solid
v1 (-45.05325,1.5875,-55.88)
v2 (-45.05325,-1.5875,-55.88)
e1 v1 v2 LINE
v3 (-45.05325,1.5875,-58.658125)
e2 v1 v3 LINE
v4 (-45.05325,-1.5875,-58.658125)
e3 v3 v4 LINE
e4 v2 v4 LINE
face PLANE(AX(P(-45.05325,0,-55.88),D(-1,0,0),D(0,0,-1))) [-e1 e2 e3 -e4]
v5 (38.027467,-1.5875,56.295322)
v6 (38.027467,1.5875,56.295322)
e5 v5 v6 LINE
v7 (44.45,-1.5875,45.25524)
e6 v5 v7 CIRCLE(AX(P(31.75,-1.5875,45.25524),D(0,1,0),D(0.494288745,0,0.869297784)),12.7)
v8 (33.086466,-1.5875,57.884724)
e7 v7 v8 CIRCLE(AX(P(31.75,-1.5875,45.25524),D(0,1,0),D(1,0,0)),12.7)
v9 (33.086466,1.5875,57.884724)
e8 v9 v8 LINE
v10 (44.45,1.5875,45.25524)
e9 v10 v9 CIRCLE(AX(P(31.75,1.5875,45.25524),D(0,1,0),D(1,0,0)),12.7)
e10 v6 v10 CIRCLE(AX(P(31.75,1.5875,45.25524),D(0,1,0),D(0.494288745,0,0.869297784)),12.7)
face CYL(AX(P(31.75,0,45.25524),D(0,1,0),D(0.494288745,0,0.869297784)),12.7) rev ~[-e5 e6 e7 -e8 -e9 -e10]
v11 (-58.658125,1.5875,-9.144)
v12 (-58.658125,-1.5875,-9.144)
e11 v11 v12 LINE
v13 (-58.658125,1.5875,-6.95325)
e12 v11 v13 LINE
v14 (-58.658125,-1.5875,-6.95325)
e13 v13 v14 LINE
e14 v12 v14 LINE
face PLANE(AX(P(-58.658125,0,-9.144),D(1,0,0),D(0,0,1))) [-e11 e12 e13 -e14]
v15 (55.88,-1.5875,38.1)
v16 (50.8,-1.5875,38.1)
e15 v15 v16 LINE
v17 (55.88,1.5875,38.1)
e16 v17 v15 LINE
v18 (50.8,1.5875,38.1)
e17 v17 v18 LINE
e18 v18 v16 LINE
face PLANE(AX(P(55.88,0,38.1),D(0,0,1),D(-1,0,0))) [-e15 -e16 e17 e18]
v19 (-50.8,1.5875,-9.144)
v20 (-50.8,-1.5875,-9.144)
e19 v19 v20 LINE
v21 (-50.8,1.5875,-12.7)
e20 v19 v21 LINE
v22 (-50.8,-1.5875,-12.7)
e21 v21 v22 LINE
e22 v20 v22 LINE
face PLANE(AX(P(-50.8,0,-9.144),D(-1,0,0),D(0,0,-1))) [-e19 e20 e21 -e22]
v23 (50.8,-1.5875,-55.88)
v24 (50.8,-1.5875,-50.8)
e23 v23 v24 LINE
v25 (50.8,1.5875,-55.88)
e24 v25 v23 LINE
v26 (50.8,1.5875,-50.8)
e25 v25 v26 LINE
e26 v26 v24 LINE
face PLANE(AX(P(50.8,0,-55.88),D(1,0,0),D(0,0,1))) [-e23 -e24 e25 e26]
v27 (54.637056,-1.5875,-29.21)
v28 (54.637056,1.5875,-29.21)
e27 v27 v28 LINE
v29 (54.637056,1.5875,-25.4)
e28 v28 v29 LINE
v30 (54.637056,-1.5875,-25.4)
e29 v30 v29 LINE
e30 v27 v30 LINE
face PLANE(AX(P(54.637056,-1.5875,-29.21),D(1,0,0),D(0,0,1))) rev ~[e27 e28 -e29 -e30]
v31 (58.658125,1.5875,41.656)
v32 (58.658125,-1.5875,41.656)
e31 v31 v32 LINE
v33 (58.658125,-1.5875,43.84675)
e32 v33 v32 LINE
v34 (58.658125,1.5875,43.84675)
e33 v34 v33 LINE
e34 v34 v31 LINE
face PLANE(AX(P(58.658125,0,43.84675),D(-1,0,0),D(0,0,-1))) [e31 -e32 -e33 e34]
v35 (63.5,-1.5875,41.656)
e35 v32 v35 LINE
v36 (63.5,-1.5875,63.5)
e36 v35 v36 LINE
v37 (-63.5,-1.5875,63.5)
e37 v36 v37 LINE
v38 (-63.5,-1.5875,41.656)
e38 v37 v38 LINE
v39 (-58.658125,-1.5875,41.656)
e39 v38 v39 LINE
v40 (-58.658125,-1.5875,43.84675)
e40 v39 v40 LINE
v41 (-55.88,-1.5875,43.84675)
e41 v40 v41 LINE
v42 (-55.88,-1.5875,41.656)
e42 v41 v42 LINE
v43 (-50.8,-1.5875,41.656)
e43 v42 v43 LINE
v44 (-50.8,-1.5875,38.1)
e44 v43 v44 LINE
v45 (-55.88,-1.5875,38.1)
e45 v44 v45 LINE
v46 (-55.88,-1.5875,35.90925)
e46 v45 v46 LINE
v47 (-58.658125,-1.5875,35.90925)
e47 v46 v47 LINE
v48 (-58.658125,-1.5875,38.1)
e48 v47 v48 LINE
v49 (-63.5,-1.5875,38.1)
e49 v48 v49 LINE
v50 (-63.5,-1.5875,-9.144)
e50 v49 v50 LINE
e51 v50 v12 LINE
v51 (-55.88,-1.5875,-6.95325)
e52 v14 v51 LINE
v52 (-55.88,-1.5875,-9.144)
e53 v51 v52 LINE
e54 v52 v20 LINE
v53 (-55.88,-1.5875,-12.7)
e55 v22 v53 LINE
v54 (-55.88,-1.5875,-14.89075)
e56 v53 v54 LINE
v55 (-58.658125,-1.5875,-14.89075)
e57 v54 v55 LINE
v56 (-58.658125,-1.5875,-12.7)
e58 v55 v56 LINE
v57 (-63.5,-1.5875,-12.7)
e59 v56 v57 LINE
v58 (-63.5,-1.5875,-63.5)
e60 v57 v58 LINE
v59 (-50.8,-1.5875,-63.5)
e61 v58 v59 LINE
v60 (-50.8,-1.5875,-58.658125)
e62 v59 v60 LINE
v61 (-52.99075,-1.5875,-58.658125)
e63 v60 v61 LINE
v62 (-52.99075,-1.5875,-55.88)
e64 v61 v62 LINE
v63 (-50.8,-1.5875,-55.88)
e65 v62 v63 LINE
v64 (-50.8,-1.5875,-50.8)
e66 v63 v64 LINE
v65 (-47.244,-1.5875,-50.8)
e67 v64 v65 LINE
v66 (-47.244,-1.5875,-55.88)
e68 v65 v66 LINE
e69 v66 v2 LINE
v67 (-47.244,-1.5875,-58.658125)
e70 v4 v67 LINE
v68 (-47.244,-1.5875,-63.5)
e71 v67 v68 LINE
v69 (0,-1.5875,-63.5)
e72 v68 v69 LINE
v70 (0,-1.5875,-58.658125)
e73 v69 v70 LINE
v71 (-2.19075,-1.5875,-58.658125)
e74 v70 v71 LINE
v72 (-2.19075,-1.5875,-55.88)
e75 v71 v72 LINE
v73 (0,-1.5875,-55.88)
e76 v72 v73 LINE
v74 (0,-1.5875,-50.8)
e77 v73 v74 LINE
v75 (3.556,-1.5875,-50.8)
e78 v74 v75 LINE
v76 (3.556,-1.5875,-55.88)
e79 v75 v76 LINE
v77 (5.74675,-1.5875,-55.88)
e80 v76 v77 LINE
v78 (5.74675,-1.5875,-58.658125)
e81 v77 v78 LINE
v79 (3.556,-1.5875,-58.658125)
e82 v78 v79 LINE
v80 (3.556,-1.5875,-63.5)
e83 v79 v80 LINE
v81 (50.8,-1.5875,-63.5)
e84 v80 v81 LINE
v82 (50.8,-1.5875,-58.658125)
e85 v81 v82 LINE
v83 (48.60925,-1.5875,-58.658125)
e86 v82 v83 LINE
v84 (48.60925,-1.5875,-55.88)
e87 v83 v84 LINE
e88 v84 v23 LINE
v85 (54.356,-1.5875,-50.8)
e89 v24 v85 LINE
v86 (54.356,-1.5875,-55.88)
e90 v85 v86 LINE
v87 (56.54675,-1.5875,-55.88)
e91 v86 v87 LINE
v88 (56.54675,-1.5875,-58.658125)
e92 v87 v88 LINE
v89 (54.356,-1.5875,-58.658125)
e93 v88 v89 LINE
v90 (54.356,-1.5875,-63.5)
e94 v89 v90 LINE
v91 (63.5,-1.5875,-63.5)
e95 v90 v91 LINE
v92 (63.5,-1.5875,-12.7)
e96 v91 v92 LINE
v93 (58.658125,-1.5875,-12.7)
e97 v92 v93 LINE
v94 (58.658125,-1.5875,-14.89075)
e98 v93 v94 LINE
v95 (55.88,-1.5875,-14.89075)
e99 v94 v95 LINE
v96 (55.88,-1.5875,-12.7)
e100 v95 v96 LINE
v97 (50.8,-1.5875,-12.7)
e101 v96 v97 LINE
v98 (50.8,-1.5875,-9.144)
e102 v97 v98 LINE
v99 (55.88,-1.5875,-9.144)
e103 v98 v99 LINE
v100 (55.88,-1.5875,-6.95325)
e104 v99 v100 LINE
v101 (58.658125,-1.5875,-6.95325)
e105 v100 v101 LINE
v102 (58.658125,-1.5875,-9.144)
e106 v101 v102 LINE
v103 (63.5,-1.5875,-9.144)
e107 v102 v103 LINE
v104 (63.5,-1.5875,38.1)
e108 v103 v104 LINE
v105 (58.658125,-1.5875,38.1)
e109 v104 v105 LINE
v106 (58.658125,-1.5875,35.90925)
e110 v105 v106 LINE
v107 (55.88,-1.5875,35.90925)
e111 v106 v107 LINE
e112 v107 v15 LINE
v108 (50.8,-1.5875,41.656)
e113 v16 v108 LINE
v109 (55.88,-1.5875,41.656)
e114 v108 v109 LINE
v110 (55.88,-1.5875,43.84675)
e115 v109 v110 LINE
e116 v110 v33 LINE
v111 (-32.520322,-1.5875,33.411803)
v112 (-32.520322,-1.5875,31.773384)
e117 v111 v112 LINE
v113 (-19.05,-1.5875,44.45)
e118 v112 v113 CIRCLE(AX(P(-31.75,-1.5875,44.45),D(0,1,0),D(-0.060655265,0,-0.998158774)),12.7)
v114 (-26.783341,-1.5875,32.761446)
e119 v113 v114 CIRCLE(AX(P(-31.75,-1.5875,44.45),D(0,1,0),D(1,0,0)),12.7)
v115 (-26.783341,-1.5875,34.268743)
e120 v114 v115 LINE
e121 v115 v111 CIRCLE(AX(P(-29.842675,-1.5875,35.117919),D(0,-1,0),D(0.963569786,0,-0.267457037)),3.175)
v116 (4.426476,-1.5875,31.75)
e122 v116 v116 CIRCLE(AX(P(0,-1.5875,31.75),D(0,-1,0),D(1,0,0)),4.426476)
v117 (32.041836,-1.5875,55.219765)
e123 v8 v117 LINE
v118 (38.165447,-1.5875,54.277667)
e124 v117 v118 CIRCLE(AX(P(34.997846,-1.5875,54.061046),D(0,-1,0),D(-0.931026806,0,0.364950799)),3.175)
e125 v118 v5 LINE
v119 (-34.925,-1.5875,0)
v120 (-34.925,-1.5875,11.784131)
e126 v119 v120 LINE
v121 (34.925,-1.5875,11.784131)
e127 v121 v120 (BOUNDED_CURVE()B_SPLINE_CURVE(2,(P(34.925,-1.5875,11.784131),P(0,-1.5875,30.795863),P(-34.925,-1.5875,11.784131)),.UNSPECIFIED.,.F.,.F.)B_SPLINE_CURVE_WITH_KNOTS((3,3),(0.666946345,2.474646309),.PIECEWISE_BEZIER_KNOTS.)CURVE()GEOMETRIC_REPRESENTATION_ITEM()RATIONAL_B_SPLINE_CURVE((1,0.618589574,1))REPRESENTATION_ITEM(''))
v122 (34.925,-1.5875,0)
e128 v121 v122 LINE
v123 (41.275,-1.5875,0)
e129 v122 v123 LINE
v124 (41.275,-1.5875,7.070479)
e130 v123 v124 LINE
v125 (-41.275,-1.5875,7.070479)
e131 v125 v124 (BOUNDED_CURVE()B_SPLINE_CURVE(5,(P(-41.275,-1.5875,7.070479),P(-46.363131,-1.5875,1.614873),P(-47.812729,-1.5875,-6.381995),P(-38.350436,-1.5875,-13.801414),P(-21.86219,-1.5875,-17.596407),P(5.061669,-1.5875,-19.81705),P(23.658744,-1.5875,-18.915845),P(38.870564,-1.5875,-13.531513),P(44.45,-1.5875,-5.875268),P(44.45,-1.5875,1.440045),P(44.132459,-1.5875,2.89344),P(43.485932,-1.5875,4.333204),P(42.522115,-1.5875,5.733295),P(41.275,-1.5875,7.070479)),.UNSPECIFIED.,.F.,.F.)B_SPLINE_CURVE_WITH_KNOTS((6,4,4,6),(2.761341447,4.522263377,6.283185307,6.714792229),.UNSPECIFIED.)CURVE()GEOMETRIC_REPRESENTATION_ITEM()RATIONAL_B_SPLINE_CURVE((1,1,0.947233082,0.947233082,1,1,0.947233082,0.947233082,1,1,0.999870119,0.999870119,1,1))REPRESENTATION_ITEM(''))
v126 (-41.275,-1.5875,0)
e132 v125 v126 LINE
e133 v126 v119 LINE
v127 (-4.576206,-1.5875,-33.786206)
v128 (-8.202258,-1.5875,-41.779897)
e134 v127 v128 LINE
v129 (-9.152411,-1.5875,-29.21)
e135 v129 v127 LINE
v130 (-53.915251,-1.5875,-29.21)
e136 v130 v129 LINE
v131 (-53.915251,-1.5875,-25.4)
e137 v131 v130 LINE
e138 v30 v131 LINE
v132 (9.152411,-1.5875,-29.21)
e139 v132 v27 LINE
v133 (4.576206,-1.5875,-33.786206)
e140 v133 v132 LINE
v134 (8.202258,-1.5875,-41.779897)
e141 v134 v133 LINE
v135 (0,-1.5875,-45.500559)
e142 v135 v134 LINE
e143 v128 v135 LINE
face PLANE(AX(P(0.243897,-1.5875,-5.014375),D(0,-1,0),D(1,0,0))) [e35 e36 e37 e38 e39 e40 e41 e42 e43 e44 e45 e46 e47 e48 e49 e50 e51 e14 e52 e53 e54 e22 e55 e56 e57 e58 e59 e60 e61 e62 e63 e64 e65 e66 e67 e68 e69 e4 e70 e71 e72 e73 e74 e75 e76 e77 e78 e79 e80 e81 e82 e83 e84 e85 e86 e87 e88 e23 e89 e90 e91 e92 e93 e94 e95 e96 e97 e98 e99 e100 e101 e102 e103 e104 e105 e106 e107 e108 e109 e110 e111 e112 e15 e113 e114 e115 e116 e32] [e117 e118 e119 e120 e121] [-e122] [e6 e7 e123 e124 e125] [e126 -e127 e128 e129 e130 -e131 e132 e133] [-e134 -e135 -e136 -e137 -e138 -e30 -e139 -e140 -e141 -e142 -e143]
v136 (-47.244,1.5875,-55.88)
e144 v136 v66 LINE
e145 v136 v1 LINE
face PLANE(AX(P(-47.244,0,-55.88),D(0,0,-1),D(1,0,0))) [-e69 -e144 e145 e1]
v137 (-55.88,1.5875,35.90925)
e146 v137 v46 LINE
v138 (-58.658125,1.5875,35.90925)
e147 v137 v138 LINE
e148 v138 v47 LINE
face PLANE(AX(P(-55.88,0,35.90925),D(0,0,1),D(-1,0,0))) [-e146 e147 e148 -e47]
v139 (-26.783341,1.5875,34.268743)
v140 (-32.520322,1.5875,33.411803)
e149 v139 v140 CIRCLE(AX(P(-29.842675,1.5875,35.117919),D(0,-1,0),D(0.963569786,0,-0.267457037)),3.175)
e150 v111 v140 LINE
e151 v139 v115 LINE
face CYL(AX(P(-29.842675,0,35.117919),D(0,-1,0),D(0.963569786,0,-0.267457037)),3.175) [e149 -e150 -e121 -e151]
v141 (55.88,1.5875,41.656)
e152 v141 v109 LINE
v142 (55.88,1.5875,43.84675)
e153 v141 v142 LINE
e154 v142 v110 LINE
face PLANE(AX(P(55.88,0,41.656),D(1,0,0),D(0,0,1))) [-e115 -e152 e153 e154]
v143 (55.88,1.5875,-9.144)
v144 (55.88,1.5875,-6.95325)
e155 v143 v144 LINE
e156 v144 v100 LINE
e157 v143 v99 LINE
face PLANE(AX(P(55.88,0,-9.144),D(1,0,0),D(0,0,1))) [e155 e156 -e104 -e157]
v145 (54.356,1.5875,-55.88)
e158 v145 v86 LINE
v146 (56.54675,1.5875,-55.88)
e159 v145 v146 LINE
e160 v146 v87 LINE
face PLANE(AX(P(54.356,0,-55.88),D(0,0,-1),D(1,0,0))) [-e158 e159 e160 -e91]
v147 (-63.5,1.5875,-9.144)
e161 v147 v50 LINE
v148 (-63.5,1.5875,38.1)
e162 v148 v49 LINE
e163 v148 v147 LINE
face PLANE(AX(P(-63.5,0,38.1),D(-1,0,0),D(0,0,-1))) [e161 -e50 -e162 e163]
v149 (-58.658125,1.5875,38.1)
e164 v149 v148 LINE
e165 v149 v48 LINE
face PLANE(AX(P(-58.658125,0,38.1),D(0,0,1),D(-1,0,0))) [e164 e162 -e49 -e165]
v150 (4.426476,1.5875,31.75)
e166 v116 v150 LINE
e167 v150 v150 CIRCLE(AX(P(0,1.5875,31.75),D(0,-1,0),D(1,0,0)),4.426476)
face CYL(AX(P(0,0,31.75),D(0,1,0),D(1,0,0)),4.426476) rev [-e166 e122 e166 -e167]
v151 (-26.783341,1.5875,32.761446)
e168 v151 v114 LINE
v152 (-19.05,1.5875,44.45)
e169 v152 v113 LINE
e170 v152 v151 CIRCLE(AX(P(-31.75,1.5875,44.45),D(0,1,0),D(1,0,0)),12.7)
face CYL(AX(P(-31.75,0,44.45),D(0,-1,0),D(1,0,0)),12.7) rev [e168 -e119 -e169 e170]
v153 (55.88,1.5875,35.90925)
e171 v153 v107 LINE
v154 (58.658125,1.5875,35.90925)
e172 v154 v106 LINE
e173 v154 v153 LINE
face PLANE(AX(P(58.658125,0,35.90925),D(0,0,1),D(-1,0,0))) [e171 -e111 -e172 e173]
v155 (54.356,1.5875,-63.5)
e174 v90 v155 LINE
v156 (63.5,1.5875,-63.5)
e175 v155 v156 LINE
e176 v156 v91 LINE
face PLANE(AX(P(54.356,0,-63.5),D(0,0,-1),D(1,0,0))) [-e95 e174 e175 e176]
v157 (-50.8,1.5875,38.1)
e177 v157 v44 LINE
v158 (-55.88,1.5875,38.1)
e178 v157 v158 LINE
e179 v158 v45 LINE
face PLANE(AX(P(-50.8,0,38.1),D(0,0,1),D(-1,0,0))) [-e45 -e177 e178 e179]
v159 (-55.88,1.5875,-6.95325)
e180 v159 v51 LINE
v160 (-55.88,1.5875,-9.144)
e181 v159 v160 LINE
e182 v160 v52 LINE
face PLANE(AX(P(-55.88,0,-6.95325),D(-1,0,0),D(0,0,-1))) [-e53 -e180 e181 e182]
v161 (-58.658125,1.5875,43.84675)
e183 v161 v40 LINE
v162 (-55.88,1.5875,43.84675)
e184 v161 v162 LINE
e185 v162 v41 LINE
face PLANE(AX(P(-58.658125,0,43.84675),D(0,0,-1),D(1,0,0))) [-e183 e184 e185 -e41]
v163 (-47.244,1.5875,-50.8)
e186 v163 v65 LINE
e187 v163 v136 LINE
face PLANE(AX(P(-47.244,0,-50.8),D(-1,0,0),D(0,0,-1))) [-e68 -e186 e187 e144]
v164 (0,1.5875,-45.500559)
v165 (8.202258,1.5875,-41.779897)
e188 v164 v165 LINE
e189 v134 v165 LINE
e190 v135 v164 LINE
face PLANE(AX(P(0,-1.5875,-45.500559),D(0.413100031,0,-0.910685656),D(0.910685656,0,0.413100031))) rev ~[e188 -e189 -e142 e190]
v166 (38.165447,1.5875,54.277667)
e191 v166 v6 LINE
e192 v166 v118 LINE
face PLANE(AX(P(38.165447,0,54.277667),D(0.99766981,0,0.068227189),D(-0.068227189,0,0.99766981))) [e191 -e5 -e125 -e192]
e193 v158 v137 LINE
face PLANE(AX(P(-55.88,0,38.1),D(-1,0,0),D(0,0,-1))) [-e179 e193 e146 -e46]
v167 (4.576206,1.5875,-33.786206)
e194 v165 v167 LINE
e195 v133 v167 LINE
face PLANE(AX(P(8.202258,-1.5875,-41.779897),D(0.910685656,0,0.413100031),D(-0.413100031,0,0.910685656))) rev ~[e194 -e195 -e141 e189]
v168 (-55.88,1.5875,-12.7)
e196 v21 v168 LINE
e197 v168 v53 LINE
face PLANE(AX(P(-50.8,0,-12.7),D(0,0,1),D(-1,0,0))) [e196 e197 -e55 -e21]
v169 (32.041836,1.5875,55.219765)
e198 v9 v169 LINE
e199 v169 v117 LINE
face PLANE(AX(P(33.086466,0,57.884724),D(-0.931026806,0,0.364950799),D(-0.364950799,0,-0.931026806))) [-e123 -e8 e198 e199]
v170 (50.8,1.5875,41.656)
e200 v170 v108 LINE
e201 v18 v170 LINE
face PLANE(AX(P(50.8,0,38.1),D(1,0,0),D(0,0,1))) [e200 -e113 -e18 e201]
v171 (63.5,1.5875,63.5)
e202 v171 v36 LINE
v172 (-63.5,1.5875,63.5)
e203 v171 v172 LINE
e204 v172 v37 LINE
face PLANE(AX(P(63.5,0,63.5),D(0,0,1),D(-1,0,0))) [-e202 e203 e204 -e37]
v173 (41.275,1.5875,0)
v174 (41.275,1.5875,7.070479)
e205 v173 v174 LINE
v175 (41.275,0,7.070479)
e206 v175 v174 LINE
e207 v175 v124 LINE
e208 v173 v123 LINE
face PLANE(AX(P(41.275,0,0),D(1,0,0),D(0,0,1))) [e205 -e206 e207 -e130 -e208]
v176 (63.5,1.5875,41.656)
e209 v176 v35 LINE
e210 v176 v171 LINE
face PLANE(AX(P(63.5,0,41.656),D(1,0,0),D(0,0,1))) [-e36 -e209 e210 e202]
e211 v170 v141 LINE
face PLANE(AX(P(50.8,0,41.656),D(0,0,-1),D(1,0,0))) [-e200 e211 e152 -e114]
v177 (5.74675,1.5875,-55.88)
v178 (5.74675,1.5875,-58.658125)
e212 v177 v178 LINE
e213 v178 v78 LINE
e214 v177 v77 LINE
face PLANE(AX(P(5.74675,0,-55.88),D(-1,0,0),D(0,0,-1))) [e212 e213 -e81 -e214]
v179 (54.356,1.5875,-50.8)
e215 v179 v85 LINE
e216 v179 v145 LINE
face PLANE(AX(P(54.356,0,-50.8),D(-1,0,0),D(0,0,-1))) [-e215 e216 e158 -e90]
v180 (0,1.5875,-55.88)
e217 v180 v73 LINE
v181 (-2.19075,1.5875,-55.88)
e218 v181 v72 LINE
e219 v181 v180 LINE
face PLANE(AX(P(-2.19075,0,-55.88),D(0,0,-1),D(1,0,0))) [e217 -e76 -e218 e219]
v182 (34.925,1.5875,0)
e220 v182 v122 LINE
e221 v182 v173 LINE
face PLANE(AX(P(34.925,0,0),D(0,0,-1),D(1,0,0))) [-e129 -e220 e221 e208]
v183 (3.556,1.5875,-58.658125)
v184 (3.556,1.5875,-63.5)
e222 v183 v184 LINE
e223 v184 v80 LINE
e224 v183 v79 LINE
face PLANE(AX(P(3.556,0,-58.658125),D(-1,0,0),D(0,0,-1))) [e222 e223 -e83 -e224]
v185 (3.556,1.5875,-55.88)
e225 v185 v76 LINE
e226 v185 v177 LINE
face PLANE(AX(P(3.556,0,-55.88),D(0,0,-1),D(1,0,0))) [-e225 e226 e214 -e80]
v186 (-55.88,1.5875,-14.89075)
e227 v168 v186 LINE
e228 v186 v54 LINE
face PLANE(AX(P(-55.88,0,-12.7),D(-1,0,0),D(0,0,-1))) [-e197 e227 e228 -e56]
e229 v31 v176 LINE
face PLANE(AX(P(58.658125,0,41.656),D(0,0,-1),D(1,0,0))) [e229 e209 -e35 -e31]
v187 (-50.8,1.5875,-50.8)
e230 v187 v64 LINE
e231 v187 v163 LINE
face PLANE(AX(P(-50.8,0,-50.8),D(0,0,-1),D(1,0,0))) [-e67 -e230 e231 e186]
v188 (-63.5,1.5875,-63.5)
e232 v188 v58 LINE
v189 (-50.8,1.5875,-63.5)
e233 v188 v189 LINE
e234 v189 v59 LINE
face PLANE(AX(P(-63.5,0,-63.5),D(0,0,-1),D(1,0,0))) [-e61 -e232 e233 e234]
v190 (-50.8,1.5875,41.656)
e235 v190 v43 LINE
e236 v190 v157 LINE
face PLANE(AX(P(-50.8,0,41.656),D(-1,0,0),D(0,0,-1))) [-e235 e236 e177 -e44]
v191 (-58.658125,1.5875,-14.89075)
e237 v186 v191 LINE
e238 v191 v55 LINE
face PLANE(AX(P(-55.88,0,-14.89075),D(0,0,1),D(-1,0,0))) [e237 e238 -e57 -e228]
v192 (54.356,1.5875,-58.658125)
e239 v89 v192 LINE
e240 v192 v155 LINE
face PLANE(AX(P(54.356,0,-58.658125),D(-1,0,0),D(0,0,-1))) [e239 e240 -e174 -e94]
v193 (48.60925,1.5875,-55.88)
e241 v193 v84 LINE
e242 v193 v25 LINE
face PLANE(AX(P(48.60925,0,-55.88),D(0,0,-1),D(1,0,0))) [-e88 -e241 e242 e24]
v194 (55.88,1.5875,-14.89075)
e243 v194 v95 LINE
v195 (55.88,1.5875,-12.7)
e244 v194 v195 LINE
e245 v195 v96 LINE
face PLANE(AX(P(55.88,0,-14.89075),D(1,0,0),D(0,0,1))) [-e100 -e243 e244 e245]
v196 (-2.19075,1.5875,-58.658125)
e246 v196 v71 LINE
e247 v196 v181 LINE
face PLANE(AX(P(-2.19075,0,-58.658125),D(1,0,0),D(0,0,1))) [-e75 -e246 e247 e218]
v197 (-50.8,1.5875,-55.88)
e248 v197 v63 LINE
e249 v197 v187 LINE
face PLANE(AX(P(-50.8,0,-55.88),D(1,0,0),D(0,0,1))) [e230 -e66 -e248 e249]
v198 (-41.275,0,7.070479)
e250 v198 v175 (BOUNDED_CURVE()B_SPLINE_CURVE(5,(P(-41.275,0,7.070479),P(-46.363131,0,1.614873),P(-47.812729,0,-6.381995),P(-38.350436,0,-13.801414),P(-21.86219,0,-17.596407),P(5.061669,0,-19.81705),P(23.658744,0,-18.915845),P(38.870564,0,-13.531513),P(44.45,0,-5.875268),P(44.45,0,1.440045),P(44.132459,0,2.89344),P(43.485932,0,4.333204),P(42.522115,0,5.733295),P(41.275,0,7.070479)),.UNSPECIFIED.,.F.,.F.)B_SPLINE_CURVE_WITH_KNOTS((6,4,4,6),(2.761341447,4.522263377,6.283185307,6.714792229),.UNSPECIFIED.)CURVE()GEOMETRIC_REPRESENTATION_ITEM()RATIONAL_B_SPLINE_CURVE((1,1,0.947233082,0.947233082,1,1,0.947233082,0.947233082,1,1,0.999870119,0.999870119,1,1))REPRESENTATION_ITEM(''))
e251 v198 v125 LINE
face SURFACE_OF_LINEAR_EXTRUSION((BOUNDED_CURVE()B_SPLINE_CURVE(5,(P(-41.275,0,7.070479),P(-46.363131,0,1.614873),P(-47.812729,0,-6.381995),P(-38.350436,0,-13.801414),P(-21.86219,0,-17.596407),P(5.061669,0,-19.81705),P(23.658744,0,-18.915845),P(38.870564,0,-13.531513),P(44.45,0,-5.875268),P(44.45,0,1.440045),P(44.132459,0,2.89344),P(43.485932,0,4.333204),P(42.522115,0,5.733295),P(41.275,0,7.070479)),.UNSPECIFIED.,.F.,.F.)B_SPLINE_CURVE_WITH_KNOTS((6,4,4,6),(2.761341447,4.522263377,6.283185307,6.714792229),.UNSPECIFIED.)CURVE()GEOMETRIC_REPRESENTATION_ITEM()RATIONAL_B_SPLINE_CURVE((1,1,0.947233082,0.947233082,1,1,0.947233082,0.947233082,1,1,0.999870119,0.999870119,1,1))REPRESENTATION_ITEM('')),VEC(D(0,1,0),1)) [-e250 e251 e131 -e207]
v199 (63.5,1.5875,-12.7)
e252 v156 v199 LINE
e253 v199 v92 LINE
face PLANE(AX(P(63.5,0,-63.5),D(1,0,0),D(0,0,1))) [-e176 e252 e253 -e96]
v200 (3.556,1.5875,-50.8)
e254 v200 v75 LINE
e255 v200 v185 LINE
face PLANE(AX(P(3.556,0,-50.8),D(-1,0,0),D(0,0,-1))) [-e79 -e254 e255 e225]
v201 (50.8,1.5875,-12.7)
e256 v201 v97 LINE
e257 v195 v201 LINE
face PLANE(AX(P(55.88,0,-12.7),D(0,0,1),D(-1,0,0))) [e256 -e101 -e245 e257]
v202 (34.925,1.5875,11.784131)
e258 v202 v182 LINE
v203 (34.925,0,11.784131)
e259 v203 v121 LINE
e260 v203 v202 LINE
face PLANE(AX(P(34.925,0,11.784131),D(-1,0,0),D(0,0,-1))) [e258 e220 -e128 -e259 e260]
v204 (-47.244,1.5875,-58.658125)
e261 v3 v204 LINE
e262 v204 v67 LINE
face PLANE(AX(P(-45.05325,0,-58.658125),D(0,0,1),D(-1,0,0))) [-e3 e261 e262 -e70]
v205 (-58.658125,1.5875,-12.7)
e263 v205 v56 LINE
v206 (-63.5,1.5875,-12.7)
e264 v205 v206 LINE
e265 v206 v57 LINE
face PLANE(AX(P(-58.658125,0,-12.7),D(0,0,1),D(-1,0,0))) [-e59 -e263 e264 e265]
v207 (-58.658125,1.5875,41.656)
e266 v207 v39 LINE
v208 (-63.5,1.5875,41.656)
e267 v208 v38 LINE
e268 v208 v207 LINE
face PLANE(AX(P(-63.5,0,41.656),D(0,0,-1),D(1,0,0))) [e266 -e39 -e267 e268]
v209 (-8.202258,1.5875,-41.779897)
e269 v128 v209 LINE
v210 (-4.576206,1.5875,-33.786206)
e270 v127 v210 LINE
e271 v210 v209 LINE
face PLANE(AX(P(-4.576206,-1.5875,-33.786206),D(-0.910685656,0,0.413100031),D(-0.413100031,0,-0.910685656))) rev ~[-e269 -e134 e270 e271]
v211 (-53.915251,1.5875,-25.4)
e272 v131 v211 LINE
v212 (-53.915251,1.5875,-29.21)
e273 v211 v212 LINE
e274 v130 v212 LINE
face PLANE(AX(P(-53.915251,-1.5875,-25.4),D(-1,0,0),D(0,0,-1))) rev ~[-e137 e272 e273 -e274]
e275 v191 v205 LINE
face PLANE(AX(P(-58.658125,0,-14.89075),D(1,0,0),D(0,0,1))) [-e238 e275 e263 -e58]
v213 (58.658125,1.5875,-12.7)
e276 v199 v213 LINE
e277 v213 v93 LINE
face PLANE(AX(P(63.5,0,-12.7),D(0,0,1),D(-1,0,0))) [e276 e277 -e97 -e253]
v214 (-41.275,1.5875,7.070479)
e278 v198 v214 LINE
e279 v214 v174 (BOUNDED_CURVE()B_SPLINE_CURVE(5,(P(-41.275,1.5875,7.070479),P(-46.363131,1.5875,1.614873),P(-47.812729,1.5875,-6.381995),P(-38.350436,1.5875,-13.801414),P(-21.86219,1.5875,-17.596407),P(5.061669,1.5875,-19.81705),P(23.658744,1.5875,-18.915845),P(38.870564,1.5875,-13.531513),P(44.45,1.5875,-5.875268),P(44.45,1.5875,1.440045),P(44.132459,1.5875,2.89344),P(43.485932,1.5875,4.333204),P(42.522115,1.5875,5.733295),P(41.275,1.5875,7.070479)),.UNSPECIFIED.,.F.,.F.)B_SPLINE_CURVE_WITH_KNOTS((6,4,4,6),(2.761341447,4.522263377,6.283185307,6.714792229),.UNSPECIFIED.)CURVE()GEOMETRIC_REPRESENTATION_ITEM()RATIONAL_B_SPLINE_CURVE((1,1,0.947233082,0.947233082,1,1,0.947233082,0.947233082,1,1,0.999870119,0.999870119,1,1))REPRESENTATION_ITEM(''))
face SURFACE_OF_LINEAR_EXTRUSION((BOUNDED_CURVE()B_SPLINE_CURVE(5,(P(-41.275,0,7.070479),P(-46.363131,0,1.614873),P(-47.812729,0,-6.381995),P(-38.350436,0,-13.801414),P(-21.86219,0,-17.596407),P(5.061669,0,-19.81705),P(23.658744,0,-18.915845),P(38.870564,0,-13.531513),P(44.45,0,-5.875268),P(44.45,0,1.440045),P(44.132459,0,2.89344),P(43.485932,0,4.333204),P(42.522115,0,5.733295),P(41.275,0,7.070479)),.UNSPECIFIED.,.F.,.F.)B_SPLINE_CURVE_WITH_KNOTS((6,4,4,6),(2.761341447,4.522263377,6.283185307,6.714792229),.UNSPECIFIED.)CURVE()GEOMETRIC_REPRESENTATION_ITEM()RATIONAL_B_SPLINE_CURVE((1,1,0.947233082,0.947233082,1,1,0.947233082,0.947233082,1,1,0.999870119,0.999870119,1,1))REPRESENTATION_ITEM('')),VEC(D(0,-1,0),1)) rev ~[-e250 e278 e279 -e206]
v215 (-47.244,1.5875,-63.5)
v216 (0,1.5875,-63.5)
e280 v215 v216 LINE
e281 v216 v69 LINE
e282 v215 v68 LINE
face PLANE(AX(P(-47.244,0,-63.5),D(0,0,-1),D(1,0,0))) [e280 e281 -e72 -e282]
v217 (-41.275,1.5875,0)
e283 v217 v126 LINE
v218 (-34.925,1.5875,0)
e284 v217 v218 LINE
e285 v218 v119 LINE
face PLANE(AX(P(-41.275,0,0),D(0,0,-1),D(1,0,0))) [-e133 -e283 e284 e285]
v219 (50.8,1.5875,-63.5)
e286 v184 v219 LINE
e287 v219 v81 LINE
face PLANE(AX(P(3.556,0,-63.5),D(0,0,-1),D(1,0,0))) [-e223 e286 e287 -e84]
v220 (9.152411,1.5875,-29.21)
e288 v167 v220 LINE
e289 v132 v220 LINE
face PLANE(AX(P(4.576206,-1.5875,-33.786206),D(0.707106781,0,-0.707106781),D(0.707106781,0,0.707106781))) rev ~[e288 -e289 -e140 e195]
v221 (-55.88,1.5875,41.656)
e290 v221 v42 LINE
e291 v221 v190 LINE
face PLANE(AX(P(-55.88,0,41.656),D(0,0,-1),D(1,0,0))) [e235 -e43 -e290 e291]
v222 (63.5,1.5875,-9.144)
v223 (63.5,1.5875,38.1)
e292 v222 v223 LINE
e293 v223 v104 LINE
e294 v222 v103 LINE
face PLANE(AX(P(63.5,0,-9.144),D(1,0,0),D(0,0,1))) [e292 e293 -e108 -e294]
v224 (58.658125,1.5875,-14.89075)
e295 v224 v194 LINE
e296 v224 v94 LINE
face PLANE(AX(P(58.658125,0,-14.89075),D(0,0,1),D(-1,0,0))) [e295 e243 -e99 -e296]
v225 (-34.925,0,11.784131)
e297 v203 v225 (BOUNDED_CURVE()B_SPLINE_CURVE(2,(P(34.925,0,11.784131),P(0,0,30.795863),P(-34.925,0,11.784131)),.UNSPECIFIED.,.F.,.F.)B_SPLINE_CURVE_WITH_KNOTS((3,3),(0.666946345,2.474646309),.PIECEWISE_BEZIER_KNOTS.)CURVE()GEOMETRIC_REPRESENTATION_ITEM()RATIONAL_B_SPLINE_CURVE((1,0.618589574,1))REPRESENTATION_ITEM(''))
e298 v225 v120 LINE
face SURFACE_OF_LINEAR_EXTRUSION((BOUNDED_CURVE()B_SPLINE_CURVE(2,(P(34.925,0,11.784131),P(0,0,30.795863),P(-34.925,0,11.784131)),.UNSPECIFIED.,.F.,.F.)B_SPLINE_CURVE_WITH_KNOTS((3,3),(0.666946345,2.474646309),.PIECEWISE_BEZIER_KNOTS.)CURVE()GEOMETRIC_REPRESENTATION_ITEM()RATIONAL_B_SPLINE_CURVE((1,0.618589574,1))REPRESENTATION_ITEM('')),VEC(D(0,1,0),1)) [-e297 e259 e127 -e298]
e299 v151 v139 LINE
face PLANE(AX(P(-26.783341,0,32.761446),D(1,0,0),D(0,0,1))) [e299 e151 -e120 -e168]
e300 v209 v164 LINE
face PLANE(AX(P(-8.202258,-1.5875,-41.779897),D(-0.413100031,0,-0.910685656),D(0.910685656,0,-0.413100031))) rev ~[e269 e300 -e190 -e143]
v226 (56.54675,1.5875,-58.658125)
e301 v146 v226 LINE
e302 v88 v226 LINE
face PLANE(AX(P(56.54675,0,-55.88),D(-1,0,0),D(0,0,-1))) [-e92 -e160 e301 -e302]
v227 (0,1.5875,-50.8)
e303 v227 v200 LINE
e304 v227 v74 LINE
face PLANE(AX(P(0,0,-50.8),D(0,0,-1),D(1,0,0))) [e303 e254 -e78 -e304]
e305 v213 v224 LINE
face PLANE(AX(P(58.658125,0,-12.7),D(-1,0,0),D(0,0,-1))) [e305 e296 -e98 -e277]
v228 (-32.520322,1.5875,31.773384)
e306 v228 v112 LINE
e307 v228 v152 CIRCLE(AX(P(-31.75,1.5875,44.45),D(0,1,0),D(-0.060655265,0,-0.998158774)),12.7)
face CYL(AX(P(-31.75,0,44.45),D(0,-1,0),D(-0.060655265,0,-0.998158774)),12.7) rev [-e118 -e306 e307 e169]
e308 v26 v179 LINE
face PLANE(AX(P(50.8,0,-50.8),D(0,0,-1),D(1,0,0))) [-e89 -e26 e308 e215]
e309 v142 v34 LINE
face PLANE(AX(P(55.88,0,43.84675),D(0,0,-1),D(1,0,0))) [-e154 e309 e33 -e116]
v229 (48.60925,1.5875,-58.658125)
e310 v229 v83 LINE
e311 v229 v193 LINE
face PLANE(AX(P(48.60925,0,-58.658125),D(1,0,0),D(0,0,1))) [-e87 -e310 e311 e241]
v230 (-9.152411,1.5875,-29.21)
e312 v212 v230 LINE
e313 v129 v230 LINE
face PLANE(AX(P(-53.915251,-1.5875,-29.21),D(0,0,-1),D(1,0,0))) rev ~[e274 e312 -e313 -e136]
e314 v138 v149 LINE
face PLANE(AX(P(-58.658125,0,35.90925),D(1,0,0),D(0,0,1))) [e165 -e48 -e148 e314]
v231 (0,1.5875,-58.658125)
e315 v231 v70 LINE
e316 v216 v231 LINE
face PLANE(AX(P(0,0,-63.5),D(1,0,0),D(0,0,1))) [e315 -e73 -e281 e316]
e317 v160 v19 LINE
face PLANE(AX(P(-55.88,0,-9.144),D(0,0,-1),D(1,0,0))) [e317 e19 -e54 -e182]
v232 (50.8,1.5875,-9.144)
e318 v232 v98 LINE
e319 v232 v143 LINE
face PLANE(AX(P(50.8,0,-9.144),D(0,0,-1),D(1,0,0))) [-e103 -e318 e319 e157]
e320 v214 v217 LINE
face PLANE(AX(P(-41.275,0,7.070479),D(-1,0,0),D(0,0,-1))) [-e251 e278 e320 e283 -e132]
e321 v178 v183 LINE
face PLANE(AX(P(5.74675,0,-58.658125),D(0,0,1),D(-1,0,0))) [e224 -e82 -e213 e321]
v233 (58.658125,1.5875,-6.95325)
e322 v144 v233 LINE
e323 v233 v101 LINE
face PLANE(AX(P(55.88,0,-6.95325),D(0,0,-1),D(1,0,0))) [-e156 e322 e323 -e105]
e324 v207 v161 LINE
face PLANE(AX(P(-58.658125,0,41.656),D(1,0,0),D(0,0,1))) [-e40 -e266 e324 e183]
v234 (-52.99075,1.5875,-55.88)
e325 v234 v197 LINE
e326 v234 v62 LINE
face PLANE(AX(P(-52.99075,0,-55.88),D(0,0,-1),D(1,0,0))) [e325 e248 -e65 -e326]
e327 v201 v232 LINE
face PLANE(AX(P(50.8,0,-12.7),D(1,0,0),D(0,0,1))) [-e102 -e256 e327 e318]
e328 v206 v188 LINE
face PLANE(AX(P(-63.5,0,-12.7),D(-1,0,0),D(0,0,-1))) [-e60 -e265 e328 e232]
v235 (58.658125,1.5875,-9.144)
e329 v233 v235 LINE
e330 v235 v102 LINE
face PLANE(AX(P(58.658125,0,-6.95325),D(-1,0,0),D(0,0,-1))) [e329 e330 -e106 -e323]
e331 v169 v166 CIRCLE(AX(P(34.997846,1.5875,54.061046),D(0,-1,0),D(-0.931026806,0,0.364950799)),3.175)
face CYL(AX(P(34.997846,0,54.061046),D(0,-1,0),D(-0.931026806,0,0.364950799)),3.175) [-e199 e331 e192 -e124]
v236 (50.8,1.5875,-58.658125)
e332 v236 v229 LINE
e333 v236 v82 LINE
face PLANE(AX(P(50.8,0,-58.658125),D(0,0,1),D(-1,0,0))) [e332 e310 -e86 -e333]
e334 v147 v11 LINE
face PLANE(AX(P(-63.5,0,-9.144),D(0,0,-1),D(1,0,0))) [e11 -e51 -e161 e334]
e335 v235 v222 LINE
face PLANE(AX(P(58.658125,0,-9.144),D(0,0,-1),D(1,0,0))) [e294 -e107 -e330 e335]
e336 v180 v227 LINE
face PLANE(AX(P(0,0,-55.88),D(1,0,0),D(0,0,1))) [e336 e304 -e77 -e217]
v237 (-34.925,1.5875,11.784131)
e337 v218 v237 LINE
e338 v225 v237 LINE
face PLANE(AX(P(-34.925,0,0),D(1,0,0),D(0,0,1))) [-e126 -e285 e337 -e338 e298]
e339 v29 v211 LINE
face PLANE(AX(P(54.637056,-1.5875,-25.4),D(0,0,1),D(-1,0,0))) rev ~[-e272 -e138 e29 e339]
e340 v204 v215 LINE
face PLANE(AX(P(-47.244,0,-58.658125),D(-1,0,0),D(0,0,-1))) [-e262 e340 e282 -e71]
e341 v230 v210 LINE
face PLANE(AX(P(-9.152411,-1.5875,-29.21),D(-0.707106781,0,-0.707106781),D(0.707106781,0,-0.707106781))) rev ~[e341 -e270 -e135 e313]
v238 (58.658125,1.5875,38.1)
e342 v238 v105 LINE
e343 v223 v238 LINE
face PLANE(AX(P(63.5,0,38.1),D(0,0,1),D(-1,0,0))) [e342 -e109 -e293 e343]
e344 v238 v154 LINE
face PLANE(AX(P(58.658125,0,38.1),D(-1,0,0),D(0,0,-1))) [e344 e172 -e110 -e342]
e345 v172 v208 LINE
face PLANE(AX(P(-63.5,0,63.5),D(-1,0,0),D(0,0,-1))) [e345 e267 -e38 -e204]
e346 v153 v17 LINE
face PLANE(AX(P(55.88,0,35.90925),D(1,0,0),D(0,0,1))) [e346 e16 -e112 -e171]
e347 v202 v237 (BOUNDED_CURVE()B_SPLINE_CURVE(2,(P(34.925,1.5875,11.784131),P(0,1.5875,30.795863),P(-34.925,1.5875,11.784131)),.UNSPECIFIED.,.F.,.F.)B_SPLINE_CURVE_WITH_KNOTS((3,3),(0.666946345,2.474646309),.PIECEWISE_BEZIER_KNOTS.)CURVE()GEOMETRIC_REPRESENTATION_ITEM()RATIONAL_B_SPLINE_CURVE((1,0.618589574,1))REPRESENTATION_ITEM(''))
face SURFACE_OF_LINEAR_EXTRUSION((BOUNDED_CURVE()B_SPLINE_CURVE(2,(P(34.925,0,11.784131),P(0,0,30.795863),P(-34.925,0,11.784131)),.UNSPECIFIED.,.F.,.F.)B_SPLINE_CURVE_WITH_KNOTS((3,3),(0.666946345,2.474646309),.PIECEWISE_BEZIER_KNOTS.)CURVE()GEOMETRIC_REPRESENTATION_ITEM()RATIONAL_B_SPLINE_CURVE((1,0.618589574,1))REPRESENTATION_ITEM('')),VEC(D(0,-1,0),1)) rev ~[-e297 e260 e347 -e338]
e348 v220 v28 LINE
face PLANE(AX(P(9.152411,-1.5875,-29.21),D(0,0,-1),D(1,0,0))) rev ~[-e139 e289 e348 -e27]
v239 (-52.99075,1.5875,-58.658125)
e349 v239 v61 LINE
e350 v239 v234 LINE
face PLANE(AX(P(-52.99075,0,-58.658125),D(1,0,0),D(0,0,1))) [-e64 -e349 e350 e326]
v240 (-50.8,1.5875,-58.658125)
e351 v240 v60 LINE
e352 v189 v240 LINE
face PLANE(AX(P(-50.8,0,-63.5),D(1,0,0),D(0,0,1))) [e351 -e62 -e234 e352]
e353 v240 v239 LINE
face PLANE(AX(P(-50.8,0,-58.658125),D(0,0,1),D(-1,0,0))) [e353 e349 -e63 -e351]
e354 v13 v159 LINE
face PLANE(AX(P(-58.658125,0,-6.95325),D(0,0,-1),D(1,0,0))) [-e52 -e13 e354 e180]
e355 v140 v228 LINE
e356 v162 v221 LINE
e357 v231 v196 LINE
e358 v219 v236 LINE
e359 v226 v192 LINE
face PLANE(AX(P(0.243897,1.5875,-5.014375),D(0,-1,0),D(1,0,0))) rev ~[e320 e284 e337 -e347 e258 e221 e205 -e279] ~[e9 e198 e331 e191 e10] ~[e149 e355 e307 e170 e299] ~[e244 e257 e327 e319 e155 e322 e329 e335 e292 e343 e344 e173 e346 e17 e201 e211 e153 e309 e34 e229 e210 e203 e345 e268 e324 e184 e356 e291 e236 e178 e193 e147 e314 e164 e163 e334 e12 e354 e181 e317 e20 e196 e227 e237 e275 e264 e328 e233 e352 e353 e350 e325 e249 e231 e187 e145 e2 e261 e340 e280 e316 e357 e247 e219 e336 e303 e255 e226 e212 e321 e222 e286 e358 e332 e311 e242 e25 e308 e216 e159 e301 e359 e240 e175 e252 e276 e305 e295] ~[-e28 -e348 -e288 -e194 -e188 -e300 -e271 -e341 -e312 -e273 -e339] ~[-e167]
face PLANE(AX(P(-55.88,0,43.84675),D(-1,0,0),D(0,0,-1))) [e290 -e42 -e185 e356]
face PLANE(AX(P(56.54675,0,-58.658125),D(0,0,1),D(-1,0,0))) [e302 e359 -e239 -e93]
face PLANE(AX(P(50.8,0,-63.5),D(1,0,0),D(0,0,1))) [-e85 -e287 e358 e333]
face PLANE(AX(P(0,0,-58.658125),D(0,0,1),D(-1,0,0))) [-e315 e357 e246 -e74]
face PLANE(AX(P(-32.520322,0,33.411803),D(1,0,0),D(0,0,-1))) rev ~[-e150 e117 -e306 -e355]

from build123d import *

# Parameters (mm, degrees)
F0_R     = 4.426475661
F1_DEPTH = 1.5875
F3_DEPTH = 3.1760001


with BuildPart() as f1:
    # F0 (on Front) → F1 (new body, symmetric)
    with BuildSketch(Plane.XZ):
        Polygon((54.356, -63.5), (63.5, -63.5), (63.5, -12.7), (58.658125, -12.7), (58.658125, -14.89075), (55.88, -14.89075), (55.88, -12.7), (50.8, -12.7), (50.8, -9.144), (55.88, -9.144), (55.88, -6.95325), (58.658125, -6.95325), (58.658125, -9.144), (63.5, -9.144), (63.5, 38.1), (58.658125, 38.1), (58.658125, 35.90925), (55.88, 35.90925), (55.88, 38.1), (50.8, 38.1), (50.8, 41.656), (55.88, 41.656), (55.88, 43.84675), (58.658125, 43.84675), (58.658125, 41.656), (63.5, 41.656), (63.5, 63.5), (-63.5, 63.5), (-63.5, 41.656), (-58.658125, 41.656), (-58.658125, 43.84675), (-55.88, 43.84675), (-55.88, 41.656), (-50.8, 41.656), (-50.8, 38.1), (-55.88, 38.1), (-55.88, 35.90925), (-58.658125, 35.90925), (-58.658125, 38.1), (-63.5, 38.1), (-63.5, -9.144), (-58.658125, -9.144), (-58.658125, -6.95325), (-55.88, -6.95325), (-55.88, -9.144), (-50.8, -9.144), (-50.8, -12.7), (-55.88, -12.7), (-55.88, -14.89075), (-58.658125, -14.89075), (-58.658125, -12.7), (-63.5, -12.7), (-63.5, -63.5), (-50.8, -63.5), (-50.8, -58.658125), (-52.99075, -58.658125), (-52.99075, -55.88), (-50.8, -55.88), (-50.8, -50.8), (-47.244, -50.8), (-47.244, -55.88), (-45.05325, -55.88), (-45.05325, -58.658125), (-47.244, -58.658125), (-47.244, -63.5), (0, -63.5), (0, -58.658125), (-2.19075, -58.658125), (-2.19075, -55.88), (0, -55.88), (0, -50.8), (3.556, -50.8), (3.556, -55.88), (5.74675, -55.88), (5.74675, -58.658125), (3.556, -58.658125), (3.556, -63.5), (50.8, -63.5), (50.8, -58.658125), (48.60925, -58.658125), (48.60925, -55.88), (50.8, -55.88), (50.8, -50.8), (54.356, -50.8), (54.356, -55.88), (56.54675, -55.88), (56.54675, -58.658125), (54.356, -58.658125), align=None)
        with BuildLine():
            ThreePointArc((-32.5203218701, 31.7733835659), (-40.4536461397, 53.6985968598), (-19.05, 44.45))
            ThreePointArc((-19.05, 44.45), (-21.1583387907, 37.4423818007), (-26.7833406026, 32.7614460077))
            ThreePointArc((-26.7833406026, 32.7614460077), (-29.5944538957, 31.9342650638), (-32.5203218701, 31.7733835659))
        make_face(mode=Mode.SUBTRACT)
        with BuildLine():
            add(Edge.make_bspline(
                [(44.45, 0), (44.45, 3.6661742094), (41.275, 7.0704788323)],
                knots=[0, 0, 0, 0.3802512067, 0.3802512067, 0.3802512067], degree=2, weights=[1, 0.9819805061, 1]))
            add(Edge.make_bspline(
                [(-41.275, 7.0704788323), (-61.2505208253, -14.3477126296), (-8.4002604126, -18.7067286405), (44.45, -23.0657446513), (44.45, 0)],
                knots=[2.7613414469, 2.7613414469, 2.7613414469, 4.522263377, 4.522263377, 6.2831853072, 6.2831853072, 6.2831853072], degree=2, weights=[1, 0.6367957928, 1, 0.6367957928, 1]))
            add(Edge.make_bspline(
                [(-34.925, 11.7841313872), (-38.89375, 9.6237072996), (-41.275, 7.0704788323)],
                knots=[2.4746463091, 2.4746463091, 2.4746463091, 2.7613414469, 2.7613414469, 2.7613414469], degree=2, weights=[1, 0.9897433186, 1]))
            add(Edge.make_bspline(
                [(34.925, 11.7841313872), (0, 30.7958633586), (-34.925, 11.7841313872)],
                knots=[0.6669463445, 0.6669463445, 0.6669463445, 2.4746463091, 2.4746463091, 2.4746463091], degree=2, weights=[1, 0.6185895741, 1]))
            add(Edge.make_bspline(
                [(41.275, 7.0704788323), (38.89375, 9.6237072996), (34.925, 11.7841313872)],
                knots=[0.3802512067, 0.3802512067, 0.3802512067, 0.6669463445, 0.6669463445, 0.6669463445], degree=2, weights=[1, 0.9897433186, 1]))
        make_face(mode=Mode.SUBTRACT)
        with Locations((0, 31.75)):
            Circle(F0_R, mode=Mode.SUBTRACT)
        with BuildLine():
            ThreePointArc((38.02746706, 56.2953220395), (42.727564203, 51.6414036807), (44.45, 45.2552401869))
            ThreePointArc((44.45, 45.2552401869), (22.3090487849, 36.7606277676), (33.0864661175, 57.8847238785))
            ThreePointArc((33.0864661175, 57.8847238785), (35.639028691, 57.3451308333), (38.02746706, 56.2953220395))
        make_face(mode=Mode.SUBTRACT)
        with BuildLine():
            Line((38.1654474814, 54.2776674622), (38.02746706, 56.2953220395))
            ThreePointArc((38.02746706, 56.2953220395), (35.639028691, 57.3451308333), (33.0864661175, 57.8847238785))
            Line((33.0864661175, 57.8847238785), (32.0418357229, 55.2197649229))
            ThreePointArc((32.0418357229, 55.2197649229), (34.5150625993, 50.9229662535), (38.1654474814, 54.2776674622))
        make_face()
        with BuildLine():
            Line((-32.5203218701, 33.4118034209), (-32.5203218701, 31.7733835659))
            ThreePointArc((-32.5203218701, 31.7733835659), (-29.5944538957, 31.9342650638), (-26.7833406026, 32.7614460077))
            Line((-26.7833406026, 32.7614460077), (-26.7833406026, 34.2687429437))
            ThreePointArc((-26.7833406026, 34.2687429437), (-30.3117243032, 38.2580810463), (-32.5203218701, 33.4118034209))
        make_face()
        with BuildLine():
            add(Edge.make_bspline(
                [(-34.925, 11.7841313872), (-38.89375, 9.6237072996), (-41.275, 7.0704788323)],
                knots=[2.4746463091, 2.4746463091, 2.4746463091, 2.7613414469, 2.7613414469, 2.7613414469], degree=2, weights=[1, 0.9897433186, 1]))
            Line((-41.275, 7.0704788323), (-41.275, 0))
            Line((-41.275, 0), (-34.925, 0))
            Line((-34.925, 0), (-34.925, 11.7841313872))
        make_face()
        with BuildLine():
            Line((41.275, 0), (41.275, 7.0704788323))
            add(Edge.make_bspline(
                [(41.275, 7.0704788323), (38.89375, 9.6237072996), (34.925, 11.7841313872)],
                knots=[0.3802512067, 0.3802512067, 0.3802512067, 0.6669463445, 0.6669463445, 0.6669463445], degree=2, weights=[1, 0.9897433186, 1]))
            Line((34.925, 11.7841313872), (34.925, 0))
            Line((34.925, 0), (41.275, 0))
        make_face()
    extrude(amount=F1_DEPTH, both=True)

    # F2 (on face) → F3 (cut, through all)
    with BuildSketch(Plane.XZ.offset(1.5875)):
        Polygon((-53.9152510464, -25.4), (-53.9152510464, -29.21), (-9.1524110914, -29.21), (9.1524110914, -29.21), (54.6370558441, -29.21), (54.6370558441, -25.4), align=None)
        Polygon((9.1524110914, -29.21), (-9.1524110914, -29.21), (-4.5762055457, -33.7862055457), (0, -38.3624110914), (4.5762055457, -33.7862055457), align=None)
        Polygon((0, -38.3624110914), (-4.5762055457, -33.7862055457), (-8.2022583859, -41.7798972868), (0, -45.5005589385), (8.2022583859, -41.7798972868), (4.5762055457, -33.7862055457), align=None)
    extrude(amount=-F3_DEPTH, mode=Mode.SUBTRACT)


solid = f1.part
